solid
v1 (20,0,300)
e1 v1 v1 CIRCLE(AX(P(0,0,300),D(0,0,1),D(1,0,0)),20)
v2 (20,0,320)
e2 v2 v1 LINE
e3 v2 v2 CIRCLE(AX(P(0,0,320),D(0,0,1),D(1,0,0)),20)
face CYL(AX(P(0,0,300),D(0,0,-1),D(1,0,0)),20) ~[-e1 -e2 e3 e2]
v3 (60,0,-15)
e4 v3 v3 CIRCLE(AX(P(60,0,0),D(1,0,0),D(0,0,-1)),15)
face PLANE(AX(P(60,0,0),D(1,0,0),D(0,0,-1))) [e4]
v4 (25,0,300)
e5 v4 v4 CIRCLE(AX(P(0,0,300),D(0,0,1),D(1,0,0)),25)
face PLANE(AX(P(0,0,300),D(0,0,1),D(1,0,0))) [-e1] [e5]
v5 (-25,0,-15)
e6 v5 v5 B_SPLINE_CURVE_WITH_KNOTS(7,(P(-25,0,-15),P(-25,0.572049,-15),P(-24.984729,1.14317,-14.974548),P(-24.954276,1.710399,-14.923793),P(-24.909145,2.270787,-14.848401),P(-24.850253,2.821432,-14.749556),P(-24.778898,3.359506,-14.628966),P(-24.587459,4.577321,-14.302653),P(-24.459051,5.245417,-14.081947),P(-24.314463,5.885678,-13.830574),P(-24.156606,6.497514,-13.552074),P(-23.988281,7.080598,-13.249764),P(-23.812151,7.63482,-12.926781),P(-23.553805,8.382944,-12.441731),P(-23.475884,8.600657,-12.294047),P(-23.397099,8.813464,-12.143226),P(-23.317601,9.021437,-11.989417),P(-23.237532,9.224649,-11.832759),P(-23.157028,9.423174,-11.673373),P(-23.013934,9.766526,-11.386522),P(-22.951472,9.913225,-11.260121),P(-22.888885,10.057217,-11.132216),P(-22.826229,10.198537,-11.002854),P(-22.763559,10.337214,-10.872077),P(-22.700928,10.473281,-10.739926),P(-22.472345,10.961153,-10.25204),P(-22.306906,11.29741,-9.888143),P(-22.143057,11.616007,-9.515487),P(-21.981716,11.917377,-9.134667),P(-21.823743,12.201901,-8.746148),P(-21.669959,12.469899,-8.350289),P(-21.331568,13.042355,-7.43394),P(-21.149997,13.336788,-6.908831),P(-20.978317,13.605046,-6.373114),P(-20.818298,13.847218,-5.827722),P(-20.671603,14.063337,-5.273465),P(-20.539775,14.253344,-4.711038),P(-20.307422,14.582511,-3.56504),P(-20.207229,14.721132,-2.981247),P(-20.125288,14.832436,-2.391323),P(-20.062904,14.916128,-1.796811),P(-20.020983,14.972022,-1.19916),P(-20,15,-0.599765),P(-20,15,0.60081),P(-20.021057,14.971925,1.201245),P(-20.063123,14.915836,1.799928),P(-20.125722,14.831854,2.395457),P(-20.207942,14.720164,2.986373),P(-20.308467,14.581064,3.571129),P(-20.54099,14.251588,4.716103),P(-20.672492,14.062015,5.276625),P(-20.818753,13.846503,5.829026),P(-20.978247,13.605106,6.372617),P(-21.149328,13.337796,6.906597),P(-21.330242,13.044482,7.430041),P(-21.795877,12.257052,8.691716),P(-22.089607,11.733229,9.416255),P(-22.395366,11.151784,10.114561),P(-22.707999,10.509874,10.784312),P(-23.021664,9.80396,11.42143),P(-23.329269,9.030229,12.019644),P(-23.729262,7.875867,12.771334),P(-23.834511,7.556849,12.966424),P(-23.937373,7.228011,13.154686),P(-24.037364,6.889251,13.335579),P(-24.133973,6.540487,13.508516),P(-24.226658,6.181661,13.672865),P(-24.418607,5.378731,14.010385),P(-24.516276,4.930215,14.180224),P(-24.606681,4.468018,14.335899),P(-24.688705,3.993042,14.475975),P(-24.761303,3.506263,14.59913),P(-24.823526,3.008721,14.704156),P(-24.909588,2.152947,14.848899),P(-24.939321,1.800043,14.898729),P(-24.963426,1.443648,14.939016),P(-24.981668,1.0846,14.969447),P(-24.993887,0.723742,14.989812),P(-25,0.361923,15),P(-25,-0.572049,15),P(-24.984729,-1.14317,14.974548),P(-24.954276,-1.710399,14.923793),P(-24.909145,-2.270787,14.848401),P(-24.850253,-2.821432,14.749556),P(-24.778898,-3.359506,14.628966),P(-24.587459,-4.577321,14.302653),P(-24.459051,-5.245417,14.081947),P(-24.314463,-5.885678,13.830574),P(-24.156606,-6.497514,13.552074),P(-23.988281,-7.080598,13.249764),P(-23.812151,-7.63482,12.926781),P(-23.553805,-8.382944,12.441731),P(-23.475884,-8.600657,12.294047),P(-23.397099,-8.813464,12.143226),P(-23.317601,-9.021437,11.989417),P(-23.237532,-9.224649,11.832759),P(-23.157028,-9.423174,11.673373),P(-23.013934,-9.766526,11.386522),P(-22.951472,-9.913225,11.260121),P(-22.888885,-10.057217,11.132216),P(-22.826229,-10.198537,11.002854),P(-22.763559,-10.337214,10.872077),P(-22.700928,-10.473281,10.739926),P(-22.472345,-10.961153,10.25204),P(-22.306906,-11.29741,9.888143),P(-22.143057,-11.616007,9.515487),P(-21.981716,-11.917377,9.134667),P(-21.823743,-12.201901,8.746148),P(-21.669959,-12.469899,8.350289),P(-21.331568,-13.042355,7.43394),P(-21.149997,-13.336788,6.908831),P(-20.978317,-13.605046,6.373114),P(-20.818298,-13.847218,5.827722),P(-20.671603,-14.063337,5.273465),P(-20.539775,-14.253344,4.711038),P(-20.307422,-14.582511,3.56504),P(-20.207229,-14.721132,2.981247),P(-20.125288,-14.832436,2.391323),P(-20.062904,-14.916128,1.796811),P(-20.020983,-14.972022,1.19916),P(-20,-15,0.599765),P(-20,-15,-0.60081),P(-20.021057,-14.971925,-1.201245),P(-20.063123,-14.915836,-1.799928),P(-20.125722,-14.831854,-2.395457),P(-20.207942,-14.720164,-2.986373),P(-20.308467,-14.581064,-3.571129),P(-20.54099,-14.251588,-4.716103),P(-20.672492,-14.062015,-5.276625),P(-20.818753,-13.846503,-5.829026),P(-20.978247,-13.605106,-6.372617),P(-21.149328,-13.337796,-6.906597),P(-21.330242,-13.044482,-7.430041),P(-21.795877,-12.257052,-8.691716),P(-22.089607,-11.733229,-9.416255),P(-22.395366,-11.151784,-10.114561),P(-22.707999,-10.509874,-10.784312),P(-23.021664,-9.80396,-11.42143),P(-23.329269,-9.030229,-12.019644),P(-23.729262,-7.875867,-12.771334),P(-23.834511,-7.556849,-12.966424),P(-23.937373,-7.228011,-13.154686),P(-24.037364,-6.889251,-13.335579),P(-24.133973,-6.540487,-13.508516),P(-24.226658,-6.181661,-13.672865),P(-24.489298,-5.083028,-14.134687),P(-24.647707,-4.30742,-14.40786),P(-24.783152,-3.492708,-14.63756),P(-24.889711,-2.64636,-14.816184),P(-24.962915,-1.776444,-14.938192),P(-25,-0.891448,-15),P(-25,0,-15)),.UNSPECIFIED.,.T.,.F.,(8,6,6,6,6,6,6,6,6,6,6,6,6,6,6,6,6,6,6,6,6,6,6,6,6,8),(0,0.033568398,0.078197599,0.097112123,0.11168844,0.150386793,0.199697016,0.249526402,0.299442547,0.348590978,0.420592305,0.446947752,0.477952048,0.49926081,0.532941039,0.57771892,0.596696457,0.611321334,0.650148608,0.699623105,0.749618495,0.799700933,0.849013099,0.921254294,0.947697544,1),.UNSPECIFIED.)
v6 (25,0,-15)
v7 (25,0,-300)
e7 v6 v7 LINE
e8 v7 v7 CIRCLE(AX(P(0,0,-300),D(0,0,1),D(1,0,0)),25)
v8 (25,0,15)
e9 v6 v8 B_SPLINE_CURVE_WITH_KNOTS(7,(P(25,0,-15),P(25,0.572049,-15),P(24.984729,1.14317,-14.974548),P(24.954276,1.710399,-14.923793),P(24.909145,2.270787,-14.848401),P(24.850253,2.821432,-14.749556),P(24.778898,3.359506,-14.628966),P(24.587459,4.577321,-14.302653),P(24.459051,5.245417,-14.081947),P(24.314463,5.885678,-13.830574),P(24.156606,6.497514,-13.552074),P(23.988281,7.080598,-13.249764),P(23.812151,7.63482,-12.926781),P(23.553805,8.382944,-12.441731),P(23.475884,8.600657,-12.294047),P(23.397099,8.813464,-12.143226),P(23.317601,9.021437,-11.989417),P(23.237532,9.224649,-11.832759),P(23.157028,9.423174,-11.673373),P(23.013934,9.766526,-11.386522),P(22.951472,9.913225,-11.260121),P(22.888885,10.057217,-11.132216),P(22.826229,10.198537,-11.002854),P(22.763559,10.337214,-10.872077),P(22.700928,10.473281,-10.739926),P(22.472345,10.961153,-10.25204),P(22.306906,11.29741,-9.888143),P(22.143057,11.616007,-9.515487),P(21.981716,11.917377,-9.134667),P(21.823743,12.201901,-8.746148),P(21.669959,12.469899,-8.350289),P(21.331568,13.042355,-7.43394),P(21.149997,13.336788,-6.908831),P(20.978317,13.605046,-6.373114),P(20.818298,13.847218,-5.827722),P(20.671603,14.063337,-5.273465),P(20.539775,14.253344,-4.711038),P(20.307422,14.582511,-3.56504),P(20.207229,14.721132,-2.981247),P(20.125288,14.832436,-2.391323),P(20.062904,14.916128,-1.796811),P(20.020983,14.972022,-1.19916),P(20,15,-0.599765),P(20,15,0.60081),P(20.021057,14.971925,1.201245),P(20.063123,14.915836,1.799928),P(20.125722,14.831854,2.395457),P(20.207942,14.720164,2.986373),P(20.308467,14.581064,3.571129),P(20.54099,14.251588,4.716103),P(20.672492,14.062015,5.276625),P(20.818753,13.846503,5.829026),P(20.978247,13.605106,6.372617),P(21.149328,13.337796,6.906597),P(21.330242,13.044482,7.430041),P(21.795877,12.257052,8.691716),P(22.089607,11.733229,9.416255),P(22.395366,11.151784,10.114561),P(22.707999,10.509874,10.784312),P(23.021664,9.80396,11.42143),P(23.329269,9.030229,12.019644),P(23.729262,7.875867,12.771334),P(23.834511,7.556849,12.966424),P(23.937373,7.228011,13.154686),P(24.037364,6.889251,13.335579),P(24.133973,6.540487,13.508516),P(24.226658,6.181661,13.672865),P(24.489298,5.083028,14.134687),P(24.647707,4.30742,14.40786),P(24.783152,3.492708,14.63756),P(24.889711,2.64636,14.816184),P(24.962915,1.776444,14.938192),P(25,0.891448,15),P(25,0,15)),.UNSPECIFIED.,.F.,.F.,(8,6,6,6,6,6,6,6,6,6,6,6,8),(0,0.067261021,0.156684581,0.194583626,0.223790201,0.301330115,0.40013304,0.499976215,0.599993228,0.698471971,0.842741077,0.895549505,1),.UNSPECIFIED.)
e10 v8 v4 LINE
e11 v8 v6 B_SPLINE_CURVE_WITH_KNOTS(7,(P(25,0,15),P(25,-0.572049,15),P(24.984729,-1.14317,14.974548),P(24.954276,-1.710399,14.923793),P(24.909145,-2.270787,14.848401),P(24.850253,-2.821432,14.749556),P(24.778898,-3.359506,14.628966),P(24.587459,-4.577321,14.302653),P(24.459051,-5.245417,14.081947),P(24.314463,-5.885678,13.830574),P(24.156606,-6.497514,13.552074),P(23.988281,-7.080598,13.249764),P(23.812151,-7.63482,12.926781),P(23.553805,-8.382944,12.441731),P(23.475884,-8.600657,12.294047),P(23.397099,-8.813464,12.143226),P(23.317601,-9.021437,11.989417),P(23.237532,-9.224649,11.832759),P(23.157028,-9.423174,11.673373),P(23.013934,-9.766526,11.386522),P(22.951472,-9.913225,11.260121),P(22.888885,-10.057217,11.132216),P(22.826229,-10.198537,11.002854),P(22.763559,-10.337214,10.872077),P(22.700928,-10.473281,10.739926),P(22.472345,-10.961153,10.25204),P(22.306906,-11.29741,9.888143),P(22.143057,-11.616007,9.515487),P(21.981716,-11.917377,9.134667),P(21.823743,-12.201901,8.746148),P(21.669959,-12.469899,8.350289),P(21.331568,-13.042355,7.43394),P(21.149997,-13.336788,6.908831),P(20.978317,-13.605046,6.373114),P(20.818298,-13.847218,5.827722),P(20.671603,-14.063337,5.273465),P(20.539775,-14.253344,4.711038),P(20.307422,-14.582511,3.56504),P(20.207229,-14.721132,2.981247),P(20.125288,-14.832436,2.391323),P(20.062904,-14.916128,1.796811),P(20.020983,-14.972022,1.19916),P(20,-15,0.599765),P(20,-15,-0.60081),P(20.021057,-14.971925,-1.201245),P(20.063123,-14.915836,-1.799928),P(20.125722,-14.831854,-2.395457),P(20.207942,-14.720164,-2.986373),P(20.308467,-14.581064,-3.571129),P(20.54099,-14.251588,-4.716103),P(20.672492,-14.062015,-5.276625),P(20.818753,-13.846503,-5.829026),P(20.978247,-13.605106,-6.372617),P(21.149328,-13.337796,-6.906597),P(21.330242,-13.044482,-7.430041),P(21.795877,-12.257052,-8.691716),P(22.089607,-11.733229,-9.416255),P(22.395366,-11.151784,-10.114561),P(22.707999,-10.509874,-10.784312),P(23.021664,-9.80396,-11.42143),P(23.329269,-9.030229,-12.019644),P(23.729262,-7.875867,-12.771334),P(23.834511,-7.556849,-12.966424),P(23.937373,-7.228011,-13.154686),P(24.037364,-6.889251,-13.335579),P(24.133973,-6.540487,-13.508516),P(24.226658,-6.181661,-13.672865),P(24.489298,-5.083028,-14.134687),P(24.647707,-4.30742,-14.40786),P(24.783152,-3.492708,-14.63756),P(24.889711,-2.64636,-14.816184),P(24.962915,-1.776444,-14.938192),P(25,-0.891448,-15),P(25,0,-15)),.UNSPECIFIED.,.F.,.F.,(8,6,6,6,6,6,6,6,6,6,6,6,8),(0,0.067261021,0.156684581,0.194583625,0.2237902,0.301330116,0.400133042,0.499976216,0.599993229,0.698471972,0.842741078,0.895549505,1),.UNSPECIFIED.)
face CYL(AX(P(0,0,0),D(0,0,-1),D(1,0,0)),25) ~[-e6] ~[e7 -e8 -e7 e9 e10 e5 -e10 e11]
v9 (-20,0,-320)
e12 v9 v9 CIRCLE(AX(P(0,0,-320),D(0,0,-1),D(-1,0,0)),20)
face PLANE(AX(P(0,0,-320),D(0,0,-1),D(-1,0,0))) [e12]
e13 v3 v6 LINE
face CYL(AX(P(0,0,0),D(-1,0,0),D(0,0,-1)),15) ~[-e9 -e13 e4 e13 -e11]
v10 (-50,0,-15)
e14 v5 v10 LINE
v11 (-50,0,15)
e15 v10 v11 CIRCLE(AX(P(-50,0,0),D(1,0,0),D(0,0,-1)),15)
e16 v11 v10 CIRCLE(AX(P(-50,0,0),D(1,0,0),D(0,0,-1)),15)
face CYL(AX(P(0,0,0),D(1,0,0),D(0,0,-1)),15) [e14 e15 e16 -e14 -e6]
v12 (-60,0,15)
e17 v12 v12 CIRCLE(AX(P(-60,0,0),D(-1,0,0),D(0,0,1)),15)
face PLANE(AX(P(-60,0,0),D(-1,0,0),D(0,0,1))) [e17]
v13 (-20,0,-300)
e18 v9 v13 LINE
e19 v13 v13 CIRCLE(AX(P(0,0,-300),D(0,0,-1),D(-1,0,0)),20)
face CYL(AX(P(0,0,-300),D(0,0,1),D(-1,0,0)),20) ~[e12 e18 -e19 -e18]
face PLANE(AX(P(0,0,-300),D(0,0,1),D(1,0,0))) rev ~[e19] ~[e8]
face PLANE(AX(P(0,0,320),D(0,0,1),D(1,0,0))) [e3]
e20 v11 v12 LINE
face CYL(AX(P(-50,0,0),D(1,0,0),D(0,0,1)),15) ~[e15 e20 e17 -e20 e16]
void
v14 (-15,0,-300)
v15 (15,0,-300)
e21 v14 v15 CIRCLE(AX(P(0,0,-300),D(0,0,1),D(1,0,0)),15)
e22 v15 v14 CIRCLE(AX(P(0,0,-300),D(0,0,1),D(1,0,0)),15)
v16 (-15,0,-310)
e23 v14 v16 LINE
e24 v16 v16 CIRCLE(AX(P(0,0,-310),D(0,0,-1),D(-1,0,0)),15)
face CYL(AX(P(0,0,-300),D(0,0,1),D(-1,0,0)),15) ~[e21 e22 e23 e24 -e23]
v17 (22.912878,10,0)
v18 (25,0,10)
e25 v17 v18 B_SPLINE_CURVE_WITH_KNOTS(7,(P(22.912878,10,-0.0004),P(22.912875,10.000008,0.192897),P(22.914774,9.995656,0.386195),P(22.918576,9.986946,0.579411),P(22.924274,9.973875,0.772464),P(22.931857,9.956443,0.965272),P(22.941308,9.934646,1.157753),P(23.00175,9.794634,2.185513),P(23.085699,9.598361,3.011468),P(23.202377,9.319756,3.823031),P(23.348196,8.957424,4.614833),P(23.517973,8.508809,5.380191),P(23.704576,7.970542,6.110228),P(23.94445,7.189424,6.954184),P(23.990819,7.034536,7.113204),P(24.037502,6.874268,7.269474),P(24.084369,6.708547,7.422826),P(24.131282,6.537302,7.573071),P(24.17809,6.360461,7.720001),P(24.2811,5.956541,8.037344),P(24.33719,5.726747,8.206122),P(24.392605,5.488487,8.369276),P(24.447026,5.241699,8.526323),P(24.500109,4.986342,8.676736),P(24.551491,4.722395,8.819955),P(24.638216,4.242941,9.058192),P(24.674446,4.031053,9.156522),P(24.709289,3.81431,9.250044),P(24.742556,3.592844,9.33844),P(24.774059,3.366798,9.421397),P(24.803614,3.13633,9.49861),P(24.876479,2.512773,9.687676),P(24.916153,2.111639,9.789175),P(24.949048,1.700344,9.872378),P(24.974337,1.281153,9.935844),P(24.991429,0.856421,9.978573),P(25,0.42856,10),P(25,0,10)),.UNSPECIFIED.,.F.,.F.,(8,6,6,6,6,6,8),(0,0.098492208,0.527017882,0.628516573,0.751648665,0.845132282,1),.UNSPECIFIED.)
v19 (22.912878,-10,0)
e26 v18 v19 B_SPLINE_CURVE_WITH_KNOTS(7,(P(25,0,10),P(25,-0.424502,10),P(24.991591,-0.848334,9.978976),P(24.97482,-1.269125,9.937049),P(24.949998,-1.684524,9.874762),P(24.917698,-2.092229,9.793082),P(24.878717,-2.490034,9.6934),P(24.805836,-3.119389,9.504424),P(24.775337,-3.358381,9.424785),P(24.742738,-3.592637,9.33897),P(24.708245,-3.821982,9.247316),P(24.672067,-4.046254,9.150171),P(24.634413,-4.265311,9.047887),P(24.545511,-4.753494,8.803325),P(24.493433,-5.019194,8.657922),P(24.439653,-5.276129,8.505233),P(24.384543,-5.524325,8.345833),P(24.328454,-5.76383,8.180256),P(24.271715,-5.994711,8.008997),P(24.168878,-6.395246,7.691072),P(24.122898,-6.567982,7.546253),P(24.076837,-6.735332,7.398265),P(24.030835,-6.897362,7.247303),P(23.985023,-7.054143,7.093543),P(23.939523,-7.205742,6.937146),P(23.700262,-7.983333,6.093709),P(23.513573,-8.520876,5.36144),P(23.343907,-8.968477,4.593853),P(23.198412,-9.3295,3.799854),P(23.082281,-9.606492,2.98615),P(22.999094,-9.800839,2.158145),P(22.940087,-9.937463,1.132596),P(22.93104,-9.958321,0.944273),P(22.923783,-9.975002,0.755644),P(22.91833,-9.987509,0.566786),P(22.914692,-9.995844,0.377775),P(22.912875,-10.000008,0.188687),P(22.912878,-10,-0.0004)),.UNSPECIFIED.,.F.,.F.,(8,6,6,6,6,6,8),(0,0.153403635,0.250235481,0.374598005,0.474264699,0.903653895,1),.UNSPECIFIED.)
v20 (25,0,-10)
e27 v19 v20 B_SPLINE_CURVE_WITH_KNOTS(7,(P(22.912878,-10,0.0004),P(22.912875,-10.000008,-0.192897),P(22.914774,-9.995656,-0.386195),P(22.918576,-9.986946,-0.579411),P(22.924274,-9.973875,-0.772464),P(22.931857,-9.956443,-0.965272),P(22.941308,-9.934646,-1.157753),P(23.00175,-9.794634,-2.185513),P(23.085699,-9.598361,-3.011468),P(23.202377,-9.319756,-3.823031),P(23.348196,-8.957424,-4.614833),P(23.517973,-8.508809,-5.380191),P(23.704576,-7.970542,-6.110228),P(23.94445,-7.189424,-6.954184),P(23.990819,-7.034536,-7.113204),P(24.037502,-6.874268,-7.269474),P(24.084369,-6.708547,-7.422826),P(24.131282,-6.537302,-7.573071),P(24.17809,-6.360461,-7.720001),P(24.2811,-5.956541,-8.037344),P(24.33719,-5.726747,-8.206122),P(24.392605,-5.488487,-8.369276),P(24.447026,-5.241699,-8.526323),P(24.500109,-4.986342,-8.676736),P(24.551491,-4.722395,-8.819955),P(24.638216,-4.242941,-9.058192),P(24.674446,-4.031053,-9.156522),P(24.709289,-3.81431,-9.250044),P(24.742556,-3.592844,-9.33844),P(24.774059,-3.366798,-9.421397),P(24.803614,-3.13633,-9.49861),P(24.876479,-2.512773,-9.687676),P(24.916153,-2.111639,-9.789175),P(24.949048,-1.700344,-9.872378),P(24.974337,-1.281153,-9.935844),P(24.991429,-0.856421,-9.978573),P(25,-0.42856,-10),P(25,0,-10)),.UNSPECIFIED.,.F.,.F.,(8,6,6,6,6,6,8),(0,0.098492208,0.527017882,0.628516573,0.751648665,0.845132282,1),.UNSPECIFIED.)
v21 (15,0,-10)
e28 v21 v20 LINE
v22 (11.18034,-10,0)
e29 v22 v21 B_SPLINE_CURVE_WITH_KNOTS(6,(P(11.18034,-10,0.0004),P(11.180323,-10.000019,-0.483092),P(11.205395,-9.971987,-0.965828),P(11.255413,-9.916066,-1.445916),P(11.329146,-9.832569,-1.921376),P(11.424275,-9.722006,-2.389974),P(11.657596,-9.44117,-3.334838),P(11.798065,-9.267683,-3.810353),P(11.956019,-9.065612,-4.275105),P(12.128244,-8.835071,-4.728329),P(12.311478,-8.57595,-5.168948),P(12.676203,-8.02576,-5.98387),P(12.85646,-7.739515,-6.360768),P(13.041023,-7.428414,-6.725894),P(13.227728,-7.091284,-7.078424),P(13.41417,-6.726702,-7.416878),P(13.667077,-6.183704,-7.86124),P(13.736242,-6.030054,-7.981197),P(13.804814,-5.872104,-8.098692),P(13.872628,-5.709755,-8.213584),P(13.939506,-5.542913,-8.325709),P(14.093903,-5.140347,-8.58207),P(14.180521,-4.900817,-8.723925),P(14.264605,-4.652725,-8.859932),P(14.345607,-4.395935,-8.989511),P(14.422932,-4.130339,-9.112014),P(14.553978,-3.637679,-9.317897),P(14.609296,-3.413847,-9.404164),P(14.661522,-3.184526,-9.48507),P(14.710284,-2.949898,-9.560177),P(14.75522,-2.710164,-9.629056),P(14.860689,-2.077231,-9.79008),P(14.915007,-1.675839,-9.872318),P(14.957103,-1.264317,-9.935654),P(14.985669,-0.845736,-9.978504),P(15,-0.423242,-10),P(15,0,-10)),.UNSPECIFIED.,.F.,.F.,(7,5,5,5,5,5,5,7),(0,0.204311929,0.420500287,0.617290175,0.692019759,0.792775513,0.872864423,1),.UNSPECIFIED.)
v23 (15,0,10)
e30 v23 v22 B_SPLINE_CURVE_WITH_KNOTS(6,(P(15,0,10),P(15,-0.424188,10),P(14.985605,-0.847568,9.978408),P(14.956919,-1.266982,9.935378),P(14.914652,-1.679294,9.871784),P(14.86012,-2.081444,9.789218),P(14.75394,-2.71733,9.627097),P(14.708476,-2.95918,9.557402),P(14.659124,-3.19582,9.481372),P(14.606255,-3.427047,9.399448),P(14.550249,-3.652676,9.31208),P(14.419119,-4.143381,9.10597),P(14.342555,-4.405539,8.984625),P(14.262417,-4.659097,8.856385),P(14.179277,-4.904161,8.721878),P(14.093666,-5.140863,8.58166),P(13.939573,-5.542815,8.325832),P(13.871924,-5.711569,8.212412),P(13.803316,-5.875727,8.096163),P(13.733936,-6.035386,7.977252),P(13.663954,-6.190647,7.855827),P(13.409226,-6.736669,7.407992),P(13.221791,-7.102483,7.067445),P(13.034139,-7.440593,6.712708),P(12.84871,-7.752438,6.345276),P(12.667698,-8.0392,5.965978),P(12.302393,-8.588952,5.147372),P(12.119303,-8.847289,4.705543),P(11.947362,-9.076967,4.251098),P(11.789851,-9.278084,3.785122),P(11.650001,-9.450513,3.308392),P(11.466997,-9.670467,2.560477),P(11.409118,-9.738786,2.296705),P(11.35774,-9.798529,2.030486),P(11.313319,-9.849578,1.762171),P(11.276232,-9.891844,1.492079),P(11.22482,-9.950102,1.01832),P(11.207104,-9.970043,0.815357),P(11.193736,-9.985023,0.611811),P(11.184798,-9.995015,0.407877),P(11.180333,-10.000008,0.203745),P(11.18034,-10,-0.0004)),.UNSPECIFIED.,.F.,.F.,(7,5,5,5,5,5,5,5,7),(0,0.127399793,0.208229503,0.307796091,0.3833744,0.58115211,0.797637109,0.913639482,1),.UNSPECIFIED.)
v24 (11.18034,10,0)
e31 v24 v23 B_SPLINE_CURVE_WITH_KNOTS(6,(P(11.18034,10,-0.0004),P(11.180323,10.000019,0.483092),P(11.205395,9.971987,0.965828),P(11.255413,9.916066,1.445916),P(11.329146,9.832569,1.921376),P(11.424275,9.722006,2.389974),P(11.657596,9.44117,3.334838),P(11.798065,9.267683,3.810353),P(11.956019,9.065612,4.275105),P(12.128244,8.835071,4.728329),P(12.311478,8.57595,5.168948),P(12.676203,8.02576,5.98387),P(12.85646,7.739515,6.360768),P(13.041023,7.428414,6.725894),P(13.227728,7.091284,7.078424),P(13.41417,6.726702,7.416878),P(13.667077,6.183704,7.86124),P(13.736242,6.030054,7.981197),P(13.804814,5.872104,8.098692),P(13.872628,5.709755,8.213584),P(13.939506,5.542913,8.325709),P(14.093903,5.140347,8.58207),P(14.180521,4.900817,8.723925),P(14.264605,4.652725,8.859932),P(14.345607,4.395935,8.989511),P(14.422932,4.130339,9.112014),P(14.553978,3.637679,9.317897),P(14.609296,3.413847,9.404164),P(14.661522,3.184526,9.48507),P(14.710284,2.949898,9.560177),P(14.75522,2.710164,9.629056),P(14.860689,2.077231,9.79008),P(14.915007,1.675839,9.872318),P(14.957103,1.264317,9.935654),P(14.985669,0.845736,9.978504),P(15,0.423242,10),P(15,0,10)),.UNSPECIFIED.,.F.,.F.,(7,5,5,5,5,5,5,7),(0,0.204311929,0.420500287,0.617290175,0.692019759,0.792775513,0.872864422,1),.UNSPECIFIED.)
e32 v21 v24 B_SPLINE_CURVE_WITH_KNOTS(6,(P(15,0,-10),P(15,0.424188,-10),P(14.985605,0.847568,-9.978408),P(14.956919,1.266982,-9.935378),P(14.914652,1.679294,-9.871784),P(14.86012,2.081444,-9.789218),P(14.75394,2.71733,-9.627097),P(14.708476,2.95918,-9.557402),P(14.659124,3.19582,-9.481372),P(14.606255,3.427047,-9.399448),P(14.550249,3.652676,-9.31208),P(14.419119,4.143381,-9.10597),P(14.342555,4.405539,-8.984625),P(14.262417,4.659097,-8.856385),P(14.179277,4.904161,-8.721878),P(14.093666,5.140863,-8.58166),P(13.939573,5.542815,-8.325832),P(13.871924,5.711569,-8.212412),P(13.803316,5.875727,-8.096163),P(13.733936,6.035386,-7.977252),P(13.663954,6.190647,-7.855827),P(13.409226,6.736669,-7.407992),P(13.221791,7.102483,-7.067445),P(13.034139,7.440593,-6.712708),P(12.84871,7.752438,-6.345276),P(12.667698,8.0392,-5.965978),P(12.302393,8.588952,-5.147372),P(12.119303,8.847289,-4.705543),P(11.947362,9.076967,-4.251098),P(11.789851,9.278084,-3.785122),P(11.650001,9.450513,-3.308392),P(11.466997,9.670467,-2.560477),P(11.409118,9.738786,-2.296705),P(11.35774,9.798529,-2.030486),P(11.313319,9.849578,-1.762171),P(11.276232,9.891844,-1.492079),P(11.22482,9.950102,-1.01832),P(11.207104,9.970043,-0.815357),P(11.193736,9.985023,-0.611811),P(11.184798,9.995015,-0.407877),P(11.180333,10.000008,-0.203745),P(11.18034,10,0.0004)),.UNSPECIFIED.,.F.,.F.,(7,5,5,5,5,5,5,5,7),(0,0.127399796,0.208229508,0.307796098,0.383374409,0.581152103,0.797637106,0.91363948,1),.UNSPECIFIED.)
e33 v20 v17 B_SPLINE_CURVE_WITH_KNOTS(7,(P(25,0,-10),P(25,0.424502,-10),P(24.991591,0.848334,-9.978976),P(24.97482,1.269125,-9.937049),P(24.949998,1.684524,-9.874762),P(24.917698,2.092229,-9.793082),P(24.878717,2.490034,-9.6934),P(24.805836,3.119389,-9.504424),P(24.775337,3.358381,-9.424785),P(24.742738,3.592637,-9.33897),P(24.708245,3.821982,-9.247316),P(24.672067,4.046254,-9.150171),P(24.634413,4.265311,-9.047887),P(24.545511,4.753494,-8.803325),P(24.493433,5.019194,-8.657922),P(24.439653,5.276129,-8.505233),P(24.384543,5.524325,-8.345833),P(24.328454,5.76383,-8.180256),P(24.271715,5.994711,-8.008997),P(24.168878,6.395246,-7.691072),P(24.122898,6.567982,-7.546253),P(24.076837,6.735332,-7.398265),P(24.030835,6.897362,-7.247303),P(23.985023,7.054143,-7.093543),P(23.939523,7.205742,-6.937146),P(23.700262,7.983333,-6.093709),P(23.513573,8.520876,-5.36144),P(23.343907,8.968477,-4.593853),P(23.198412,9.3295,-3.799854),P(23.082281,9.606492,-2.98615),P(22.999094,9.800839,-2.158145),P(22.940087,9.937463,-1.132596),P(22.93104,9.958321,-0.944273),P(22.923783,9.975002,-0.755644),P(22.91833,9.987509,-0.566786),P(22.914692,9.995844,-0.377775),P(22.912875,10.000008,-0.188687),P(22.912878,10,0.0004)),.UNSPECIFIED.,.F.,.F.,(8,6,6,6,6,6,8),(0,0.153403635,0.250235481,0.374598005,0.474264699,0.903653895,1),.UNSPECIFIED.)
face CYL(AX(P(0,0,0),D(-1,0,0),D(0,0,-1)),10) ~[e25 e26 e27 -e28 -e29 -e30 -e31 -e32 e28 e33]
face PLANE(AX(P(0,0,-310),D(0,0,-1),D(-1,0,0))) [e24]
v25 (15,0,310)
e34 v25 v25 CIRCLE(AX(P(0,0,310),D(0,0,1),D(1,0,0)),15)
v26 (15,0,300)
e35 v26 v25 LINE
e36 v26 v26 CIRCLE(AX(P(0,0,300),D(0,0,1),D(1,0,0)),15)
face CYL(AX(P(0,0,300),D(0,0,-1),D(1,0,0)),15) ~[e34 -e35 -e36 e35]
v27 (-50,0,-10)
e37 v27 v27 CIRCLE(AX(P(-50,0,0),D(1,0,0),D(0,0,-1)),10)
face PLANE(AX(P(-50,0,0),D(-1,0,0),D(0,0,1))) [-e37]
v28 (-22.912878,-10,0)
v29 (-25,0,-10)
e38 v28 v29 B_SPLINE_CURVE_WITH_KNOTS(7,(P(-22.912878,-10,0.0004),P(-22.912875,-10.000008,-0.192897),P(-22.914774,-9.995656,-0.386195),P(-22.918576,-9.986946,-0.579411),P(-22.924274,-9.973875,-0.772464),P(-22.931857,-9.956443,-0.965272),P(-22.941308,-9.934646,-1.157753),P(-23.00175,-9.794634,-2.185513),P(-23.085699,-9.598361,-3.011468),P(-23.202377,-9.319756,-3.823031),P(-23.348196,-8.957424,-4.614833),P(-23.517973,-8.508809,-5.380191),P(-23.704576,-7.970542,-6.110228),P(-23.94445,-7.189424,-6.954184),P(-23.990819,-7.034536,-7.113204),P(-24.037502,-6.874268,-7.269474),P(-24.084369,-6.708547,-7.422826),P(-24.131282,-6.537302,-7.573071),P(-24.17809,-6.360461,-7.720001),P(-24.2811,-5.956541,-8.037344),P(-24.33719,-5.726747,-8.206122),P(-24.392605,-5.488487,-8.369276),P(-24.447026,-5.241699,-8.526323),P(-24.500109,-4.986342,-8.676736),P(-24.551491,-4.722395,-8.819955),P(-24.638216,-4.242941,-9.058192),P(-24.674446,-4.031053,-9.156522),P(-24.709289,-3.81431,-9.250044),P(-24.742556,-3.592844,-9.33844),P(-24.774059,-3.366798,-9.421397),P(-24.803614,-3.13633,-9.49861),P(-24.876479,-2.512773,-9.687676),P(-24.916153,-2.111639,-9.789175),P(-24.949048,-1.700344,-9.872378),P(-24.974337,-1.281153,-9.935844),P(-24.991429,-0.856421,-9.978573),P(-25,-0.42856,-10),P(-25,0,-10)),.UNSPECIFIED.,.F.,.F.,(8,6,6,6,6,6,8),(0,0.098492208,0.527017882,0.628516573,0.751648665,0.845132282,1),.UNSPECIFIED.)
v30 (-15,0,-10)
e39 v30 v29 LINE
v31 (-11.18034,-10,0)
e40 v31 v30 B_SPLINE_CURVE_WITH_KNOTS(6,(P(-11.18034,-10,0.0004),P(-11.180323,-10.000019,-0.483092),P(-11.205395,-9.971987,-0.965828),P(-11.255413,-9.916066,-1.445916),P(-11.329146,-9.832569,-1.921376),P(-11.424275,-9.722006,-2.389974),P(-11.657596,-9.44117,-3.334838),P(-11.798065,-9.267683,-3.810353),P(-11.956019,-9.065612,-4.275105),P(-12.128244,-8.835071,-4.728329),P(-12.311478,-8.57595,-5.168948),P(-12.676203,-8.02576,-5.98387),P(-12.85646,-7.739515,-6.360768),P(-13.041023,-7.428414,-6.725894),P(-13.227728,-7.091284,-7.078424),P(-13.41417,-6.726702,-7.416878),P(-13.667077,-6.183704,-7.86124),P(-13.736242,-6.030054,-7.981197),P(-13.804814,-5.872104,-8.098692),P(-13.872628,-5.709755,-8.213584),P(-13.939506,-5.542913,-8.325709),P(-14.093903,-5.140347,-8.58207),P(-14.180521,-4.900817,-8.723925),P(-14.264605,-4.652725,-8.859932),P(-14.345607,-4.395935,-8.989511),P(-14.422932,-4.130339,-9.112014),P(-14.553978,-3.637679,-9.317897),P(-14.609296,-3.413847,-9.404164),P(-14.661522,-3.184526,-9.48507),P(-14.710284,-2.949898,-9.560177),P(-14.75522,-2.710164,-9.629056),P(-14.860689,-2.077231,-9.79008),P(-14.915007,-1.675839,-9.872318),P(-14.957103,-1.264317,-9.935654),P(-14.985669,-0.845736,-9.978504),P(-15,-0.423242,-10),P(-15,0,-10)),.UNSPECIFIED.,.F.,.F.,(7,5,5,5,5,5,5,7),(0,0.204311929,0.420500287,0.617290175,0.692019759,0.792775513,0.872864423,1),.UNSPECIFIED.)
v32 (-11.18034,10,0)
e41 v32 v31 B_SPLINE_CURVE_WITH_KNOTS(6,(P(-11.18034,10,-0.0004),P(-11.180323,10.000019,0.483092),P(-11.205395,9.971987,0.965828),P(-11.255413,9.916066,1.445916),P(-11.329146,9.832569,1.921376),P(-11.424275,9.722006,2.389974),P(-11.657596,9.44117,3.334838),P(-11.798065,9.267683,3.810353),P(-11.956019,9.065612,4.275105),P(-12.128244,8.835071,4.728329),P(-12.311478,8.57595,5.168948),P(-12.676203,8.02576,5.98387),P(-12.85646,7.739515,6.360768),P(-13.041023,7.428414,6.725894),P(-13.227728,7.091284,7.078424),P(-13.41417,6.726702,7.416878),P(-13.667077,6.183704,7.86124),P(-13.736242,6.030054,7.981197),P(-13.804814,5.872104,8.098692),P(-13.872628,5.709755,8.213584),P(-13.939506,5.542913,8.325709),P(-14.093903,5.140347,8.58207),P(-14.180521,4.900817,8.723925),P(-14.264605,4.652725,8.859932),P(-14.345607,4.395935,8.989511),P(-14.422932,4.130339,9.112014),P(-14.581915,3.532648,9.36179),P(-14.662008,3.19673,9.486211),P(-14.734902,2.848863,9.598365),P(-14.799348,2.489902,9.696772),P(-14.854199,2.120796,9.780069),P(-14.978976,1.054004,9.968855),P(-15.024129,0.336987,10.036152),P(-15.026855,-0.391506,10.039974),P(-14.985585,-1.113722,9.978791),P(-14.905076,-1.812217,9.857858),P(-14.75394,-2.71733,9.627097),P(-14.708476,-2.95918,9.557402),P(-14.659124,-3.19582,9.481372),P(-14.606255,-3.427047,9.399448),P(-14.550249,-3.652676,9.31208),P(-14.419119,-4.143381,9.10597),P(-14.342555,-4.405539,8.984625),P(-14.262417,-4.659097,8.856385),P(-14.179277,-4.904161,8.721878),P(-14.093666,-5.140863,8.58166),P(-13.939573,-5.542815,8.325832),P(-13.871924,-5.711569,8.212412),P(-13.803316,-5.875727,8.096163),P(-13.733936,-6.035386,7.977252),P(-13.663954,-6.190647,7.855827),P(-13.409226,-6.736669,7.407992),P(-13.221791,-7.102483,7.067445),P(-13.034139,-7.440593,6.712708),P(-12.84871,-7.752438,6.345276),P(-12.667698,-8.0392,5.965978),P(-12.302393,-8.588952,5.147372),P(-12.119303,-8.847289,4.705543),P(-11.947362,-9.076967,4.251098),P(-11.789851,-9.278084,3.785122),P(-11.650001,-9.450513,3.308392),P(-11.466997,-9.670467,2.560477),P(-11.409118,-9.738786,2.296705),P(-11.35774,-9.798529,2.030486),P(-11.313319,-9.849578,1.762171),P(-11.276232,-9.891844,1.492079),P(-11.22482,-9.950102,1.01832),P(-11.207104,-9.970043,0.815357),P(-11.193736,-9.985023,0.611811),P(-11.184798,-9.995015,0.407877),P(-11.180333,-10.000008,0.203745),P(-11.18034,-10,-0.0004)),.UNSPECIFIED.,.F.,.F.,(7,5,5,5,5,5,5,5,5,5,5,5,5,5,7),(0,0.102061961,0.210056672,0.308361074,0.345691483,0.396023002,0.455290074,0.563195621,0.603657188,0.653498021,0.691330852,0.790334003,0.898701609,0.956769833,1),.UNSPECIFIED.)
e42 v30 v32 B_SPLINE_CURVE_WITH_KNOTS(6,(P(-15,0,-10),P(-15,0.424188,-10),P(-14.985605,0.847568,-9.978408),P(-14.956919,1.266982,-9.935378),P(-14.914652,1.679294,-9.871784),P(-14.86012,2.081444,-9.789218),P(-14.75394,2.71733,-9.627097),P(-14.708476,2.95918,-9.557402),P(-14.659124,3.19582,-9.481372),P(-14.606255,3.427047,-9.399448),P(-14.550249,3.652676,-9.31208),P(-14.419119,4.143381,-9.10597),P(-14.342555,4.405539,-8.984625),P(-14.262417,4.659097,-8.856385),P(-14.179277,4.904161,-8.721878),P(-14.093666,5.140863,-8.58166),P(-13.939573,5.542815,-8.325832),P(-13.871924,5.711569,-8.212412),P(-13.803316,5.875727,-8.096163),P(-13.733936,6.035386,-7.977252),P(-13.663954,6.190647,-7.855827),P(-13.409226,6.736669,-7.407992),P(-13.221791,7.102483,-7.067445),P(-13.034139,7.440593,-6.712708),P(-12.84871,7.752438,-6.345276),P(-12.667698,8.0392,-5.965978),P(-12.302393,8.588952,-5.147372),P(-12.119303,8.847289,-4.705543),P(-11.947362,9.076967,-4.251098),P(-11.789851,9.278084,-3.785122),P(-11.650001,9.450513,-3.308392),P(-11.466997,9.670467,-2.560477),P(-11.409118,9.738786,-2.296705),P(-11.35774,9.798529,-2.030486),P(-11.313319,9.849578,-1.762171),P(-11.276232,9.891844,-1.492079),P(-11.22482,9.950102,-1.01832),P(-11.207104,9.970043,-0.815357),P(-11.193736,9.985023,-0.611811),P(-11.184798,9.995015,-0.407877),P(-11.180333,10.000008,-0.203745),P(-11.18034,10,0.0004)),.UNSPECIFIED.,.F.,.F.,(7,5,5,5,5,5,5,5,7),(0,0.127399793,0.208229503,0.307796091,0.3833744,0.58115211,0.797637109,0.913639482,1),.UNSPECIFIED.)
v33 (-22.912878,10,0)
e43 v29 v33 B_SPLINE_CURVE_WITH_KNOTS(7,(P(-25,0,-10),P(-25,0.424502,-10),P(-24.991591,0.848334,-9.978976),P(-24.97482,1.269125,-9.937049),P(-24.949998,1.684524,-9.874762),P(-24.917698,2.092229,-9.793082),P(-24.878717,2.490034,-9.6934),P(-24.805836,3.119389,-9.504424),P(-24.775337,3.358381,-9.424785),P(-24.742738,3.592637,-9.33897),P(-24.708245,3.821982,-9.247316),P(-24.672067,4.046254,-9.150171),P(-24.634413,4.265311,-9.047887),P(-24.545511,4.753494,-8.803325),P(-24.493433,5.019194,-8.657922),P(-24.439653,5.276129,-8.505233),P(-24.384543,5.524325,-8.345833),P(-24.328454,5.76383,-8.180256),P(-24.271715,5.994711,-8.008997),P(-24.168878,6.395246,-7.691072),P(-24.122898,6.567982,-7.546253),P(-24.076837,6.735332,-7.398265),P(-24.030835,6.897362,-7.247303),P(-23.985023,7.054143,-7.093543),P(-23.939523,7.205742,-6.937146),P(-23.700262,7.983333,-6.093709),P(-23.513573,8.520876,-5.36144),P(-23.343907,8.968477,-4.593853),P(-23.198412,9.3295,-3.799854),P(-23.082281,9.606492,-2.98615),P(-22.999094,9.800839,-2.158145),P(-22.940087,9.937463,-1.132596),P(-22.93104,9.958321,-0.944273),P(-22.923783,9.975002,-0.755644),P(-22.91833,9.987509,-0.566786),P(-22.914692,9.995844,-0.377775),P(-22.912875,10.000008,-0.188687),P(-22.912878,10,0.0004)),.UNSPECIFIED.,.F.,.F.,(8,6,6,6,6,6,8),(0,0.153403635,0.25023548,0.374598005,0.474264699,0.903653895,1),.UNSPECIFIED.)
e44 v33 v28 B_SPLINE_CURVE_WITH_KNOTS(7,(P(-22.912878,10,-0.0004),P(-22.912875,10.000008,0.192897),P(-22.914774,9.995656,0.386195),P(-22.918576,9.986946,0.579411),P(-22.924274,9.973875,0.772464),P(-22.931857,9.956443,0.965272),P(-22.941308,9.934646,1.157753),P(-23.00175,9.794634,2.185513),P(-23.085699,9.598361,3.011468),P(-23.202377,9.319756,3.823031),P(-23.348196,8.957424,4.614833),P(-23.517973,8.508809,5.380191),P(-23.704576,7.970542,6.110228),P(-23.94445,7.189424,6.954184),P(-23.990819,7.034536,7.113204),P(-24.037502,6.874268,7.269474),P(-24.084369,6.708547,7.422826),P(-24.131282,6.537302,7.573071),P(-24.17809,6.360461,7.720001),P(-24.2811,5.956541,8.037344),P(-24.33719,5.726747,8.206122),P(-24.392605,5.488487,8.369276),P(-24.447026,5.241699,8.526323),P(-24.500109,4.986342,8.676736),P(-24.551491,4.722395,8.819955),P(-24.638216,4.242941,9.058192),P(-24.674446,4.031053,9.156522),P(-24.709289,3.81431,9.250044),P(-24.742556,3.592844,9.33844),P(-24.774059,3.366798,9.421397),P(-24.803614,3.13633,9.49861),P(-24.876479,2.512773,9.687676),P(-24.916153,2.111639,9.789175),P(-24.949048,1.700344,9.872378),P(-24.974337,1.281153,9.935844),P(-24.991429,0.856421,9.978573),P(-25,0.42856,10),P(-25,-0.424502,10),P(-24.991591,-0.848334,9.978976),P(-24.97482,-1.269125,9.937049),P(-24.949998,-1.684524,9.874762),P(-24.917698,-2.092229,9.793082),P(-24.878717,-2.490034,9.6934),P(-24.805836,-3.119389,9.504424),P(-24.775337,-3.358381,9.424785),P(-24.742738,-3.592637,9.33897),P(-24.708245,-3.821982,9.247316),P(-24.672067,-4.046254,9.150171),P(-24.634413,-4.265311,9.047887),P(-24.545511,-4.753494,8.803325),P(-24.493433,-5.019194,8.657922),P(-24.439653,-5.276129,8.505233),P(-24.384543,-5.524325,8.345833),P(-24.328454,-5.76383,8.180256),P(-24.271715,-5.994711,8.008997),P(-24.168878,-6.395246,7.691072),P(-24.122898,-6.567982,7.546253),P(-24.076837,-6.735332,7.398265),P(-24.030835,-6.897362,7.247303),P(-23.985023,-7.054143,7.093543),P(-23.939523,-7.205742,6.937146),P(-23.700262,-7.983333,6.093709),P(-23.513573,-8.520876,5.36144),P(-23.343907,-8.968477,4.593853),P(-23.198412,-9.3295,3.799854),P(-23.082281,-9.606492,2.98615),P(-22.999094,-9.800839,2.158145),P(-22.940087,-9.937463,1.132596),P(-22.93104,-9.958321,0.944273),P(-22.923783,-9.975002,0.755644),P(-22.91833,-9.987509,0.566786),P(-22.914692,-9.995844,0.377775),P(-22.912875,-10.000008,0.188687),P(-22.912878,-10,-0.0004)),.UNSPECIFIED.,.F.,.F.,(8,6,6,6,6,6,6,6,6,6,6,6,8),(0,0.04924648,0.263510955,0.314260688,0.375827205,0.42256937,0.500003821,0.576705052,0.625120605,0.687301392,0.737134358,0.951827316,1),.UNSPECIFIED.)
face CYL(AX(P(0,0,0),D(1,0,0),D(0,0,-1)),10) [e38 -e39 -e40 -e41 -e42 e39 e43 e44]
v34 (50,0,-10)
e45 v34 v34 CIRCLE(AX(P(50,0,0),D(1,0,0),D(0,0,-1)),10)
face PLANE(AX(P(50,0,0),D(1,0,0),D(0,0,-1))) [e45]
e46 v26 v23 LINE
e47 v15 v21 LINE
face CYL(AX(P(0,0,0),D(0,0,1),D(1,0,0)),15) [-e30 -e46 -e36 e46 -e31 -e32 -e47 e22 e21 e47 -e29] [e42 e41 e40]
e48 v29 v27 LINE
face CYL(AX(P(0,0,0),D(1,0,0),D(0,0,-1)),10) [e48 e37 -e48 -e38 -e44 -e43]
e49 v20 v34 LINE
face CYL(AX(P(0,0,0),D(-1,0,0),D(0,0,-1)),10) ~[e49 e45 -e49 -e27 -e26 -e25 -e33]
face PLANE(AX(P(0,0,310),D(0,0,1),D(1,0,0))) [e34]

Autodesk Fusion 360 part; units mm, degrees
sketch "Sketch8" plane through (0, 0, 0) normal (0, 0, 1) x (1, 0, 0)
  circle A0 centre (0, 0) radius 15
  circle A1 centre (0, 0) radius 25
  dimension "d21" = 30
  dimension "d22" = 50
extrude "Extrude3" add sketch "Sketch8" along normal mid plane 600 makes body 1
sketch "Sketch9" plane through (0, 0, 0) normal (1, 0, 0) x (0, 0, -1)
  circle A0 centre (0, 0) radius 10
  circle A1 centre (0, 0) radius 15
  dimension "d25" = 20
  dimension "d26" = 30
extrude "Extrude4" cut sketch "Sketch9" along normal mid plane 100 contours A0 bodies 1
extrude "Extrude5" add sketch "Sketch9" along normal mid plane 100 separate body makes body 2
extrude "Extrude6" cut sketch "Sketch8" along normal mid plane 600 contours A0 bodies 2
combine "Combine1" operation add target body 1 tool bodies 2
sketch "Sketch10" plane through (0, 0, -300) normal (0, 0, -1) x (-1, 0, 0)
  circle A0 centre (0, 0) radius 15
  circle A1 centre (0, 0) radius 25
  circle A2 centre (0, 0) radius 15
  circle A3 centre (0, 0) radius 20
  dimension "d33" = 30
  dimension "d34" = 40
extrude "Extrude7" add sketch "Sketch10" along normal blind 10 contours A3 bodies 1
sketch "Sketch11" plane through (0, 0, 300) normal (0, 0, 1) x (1, 0, 0)
  circle A0 centre (0, 0) radius 15
  circle A1 centre (0, 0) radius 25
  circle A2 centre (0, 0) radius 15
  circle A3 centre (0, 0) radius 20
  dimension "d38" = 30
  dimension "d39" = 40
extrude "Extrude8" add sketch "Sketch11" along normal blind 10 contours A3 bodies 1
sketch "Sketch12" plane through (0, 0, -310) normal (0, 0, -1) x (-1, 0, 0)
  circle A0 centre (0, 0) radius 15
  circle A1 centre (0, 0) radius 20
  circle A2 centre (0, 0) radius 20
  dimension "d42" = 40
extrude "Extrude9" add sketch "Sketch12" along normal blind 10 contours A0 | A1 A2 bodies 1
sketch "Sketch13" plane through (0, 0, 310) normal (0, 0, 1) x (1, 0, 0)
  circle A0 centre (0, 0) radius 15
  circle A1 centre (0, 0) radius 20
  circle A2 centre (0, 0) radius 20
  dimension "d45" = 40
extrude "Extrude10" add sketch "Sketch13" along normal blind 10 contours A0 | A1 A2 bodies 1
sketch "Sketch14" plane through (-50, 0, 0) normal (-1, 0, 0) x (0, 0, 1)
  circle A0 centre (0, 0) radius 10
  circle A1 centre (0, 0) radius 15
  circle A2 centre (0, 0) radius 15
  dimension "d48" = 30
extrude "Extrude11" add sketch "Sketch14" along normal blind 10 contours A0 | A1 A2 bodies 1
sketch "Sketch15" plane through (50, 0, 0) normal (1, 0, 0) x (0, 0, -1)
  circle A0 centre (0, 0) radius 10
  circle A1 centre (0, 0) radius 15
  circle A2 centre (0, 0) radius 15
  dimension "d51" = 30
extrude "Extrude12" add sketch "Sketch15" along normal blind 10 contours A0 | A1 A2 bodies 1
equation "LC_id = 30 mm" comment "Long Cylinder inner diameter"
equation "LC_od = 50 mm" comment "Long Cylinder outer diameter"
equation "SC_id = 20 mm" comment "Small arm Cylinder inner diameter"
equation "SC_od = 30 mm" comment "Small arm Cylinder outer diameter"
equation "LC_l = 300 mm" comment "Long Cylinder length"
equation "SC_l = 50 mm" comment "Short arm Cylinder length"
equation "SC_c = LC_l / 2.0" comment "Short arm Cylinder position (center of long cylinder length)"
equation "LC_w_id = LC_id" comment "lONG Cylinder cold window inner diameter"
equation "LC_w_od = 1.0 / 2.0 * ( LC_od + LC_id )" comment "Long Cylinder window outer diameter"
equation "d21 = LC_id"
equation "d22 = LC_od"
equation "d23 = LC_l"
equation "d25 = SC_id"
equation "d26 = SC_od"
equation "d27 = SC_l"
equation "d29 = SC_l"
equation "d31 = LC_l"
equation "d33 = LC_w_id"
equation "d34 = LC_w_od"
equation "LC_w_l = 10 mm" comment "Lenth of LC window cold tube"
equation "d36 = LC_w_l"
equation "d38 = LC_w_id"
equation "d39 = LC_w_od"
equation "d40 = LC_w_l"
equation "d42 = LC_w_od"
equation "d45 = LC_w_od"
equation "d48 = SC_od"
equation "d51 = SC_od"
properties part number "Configuration 3"
